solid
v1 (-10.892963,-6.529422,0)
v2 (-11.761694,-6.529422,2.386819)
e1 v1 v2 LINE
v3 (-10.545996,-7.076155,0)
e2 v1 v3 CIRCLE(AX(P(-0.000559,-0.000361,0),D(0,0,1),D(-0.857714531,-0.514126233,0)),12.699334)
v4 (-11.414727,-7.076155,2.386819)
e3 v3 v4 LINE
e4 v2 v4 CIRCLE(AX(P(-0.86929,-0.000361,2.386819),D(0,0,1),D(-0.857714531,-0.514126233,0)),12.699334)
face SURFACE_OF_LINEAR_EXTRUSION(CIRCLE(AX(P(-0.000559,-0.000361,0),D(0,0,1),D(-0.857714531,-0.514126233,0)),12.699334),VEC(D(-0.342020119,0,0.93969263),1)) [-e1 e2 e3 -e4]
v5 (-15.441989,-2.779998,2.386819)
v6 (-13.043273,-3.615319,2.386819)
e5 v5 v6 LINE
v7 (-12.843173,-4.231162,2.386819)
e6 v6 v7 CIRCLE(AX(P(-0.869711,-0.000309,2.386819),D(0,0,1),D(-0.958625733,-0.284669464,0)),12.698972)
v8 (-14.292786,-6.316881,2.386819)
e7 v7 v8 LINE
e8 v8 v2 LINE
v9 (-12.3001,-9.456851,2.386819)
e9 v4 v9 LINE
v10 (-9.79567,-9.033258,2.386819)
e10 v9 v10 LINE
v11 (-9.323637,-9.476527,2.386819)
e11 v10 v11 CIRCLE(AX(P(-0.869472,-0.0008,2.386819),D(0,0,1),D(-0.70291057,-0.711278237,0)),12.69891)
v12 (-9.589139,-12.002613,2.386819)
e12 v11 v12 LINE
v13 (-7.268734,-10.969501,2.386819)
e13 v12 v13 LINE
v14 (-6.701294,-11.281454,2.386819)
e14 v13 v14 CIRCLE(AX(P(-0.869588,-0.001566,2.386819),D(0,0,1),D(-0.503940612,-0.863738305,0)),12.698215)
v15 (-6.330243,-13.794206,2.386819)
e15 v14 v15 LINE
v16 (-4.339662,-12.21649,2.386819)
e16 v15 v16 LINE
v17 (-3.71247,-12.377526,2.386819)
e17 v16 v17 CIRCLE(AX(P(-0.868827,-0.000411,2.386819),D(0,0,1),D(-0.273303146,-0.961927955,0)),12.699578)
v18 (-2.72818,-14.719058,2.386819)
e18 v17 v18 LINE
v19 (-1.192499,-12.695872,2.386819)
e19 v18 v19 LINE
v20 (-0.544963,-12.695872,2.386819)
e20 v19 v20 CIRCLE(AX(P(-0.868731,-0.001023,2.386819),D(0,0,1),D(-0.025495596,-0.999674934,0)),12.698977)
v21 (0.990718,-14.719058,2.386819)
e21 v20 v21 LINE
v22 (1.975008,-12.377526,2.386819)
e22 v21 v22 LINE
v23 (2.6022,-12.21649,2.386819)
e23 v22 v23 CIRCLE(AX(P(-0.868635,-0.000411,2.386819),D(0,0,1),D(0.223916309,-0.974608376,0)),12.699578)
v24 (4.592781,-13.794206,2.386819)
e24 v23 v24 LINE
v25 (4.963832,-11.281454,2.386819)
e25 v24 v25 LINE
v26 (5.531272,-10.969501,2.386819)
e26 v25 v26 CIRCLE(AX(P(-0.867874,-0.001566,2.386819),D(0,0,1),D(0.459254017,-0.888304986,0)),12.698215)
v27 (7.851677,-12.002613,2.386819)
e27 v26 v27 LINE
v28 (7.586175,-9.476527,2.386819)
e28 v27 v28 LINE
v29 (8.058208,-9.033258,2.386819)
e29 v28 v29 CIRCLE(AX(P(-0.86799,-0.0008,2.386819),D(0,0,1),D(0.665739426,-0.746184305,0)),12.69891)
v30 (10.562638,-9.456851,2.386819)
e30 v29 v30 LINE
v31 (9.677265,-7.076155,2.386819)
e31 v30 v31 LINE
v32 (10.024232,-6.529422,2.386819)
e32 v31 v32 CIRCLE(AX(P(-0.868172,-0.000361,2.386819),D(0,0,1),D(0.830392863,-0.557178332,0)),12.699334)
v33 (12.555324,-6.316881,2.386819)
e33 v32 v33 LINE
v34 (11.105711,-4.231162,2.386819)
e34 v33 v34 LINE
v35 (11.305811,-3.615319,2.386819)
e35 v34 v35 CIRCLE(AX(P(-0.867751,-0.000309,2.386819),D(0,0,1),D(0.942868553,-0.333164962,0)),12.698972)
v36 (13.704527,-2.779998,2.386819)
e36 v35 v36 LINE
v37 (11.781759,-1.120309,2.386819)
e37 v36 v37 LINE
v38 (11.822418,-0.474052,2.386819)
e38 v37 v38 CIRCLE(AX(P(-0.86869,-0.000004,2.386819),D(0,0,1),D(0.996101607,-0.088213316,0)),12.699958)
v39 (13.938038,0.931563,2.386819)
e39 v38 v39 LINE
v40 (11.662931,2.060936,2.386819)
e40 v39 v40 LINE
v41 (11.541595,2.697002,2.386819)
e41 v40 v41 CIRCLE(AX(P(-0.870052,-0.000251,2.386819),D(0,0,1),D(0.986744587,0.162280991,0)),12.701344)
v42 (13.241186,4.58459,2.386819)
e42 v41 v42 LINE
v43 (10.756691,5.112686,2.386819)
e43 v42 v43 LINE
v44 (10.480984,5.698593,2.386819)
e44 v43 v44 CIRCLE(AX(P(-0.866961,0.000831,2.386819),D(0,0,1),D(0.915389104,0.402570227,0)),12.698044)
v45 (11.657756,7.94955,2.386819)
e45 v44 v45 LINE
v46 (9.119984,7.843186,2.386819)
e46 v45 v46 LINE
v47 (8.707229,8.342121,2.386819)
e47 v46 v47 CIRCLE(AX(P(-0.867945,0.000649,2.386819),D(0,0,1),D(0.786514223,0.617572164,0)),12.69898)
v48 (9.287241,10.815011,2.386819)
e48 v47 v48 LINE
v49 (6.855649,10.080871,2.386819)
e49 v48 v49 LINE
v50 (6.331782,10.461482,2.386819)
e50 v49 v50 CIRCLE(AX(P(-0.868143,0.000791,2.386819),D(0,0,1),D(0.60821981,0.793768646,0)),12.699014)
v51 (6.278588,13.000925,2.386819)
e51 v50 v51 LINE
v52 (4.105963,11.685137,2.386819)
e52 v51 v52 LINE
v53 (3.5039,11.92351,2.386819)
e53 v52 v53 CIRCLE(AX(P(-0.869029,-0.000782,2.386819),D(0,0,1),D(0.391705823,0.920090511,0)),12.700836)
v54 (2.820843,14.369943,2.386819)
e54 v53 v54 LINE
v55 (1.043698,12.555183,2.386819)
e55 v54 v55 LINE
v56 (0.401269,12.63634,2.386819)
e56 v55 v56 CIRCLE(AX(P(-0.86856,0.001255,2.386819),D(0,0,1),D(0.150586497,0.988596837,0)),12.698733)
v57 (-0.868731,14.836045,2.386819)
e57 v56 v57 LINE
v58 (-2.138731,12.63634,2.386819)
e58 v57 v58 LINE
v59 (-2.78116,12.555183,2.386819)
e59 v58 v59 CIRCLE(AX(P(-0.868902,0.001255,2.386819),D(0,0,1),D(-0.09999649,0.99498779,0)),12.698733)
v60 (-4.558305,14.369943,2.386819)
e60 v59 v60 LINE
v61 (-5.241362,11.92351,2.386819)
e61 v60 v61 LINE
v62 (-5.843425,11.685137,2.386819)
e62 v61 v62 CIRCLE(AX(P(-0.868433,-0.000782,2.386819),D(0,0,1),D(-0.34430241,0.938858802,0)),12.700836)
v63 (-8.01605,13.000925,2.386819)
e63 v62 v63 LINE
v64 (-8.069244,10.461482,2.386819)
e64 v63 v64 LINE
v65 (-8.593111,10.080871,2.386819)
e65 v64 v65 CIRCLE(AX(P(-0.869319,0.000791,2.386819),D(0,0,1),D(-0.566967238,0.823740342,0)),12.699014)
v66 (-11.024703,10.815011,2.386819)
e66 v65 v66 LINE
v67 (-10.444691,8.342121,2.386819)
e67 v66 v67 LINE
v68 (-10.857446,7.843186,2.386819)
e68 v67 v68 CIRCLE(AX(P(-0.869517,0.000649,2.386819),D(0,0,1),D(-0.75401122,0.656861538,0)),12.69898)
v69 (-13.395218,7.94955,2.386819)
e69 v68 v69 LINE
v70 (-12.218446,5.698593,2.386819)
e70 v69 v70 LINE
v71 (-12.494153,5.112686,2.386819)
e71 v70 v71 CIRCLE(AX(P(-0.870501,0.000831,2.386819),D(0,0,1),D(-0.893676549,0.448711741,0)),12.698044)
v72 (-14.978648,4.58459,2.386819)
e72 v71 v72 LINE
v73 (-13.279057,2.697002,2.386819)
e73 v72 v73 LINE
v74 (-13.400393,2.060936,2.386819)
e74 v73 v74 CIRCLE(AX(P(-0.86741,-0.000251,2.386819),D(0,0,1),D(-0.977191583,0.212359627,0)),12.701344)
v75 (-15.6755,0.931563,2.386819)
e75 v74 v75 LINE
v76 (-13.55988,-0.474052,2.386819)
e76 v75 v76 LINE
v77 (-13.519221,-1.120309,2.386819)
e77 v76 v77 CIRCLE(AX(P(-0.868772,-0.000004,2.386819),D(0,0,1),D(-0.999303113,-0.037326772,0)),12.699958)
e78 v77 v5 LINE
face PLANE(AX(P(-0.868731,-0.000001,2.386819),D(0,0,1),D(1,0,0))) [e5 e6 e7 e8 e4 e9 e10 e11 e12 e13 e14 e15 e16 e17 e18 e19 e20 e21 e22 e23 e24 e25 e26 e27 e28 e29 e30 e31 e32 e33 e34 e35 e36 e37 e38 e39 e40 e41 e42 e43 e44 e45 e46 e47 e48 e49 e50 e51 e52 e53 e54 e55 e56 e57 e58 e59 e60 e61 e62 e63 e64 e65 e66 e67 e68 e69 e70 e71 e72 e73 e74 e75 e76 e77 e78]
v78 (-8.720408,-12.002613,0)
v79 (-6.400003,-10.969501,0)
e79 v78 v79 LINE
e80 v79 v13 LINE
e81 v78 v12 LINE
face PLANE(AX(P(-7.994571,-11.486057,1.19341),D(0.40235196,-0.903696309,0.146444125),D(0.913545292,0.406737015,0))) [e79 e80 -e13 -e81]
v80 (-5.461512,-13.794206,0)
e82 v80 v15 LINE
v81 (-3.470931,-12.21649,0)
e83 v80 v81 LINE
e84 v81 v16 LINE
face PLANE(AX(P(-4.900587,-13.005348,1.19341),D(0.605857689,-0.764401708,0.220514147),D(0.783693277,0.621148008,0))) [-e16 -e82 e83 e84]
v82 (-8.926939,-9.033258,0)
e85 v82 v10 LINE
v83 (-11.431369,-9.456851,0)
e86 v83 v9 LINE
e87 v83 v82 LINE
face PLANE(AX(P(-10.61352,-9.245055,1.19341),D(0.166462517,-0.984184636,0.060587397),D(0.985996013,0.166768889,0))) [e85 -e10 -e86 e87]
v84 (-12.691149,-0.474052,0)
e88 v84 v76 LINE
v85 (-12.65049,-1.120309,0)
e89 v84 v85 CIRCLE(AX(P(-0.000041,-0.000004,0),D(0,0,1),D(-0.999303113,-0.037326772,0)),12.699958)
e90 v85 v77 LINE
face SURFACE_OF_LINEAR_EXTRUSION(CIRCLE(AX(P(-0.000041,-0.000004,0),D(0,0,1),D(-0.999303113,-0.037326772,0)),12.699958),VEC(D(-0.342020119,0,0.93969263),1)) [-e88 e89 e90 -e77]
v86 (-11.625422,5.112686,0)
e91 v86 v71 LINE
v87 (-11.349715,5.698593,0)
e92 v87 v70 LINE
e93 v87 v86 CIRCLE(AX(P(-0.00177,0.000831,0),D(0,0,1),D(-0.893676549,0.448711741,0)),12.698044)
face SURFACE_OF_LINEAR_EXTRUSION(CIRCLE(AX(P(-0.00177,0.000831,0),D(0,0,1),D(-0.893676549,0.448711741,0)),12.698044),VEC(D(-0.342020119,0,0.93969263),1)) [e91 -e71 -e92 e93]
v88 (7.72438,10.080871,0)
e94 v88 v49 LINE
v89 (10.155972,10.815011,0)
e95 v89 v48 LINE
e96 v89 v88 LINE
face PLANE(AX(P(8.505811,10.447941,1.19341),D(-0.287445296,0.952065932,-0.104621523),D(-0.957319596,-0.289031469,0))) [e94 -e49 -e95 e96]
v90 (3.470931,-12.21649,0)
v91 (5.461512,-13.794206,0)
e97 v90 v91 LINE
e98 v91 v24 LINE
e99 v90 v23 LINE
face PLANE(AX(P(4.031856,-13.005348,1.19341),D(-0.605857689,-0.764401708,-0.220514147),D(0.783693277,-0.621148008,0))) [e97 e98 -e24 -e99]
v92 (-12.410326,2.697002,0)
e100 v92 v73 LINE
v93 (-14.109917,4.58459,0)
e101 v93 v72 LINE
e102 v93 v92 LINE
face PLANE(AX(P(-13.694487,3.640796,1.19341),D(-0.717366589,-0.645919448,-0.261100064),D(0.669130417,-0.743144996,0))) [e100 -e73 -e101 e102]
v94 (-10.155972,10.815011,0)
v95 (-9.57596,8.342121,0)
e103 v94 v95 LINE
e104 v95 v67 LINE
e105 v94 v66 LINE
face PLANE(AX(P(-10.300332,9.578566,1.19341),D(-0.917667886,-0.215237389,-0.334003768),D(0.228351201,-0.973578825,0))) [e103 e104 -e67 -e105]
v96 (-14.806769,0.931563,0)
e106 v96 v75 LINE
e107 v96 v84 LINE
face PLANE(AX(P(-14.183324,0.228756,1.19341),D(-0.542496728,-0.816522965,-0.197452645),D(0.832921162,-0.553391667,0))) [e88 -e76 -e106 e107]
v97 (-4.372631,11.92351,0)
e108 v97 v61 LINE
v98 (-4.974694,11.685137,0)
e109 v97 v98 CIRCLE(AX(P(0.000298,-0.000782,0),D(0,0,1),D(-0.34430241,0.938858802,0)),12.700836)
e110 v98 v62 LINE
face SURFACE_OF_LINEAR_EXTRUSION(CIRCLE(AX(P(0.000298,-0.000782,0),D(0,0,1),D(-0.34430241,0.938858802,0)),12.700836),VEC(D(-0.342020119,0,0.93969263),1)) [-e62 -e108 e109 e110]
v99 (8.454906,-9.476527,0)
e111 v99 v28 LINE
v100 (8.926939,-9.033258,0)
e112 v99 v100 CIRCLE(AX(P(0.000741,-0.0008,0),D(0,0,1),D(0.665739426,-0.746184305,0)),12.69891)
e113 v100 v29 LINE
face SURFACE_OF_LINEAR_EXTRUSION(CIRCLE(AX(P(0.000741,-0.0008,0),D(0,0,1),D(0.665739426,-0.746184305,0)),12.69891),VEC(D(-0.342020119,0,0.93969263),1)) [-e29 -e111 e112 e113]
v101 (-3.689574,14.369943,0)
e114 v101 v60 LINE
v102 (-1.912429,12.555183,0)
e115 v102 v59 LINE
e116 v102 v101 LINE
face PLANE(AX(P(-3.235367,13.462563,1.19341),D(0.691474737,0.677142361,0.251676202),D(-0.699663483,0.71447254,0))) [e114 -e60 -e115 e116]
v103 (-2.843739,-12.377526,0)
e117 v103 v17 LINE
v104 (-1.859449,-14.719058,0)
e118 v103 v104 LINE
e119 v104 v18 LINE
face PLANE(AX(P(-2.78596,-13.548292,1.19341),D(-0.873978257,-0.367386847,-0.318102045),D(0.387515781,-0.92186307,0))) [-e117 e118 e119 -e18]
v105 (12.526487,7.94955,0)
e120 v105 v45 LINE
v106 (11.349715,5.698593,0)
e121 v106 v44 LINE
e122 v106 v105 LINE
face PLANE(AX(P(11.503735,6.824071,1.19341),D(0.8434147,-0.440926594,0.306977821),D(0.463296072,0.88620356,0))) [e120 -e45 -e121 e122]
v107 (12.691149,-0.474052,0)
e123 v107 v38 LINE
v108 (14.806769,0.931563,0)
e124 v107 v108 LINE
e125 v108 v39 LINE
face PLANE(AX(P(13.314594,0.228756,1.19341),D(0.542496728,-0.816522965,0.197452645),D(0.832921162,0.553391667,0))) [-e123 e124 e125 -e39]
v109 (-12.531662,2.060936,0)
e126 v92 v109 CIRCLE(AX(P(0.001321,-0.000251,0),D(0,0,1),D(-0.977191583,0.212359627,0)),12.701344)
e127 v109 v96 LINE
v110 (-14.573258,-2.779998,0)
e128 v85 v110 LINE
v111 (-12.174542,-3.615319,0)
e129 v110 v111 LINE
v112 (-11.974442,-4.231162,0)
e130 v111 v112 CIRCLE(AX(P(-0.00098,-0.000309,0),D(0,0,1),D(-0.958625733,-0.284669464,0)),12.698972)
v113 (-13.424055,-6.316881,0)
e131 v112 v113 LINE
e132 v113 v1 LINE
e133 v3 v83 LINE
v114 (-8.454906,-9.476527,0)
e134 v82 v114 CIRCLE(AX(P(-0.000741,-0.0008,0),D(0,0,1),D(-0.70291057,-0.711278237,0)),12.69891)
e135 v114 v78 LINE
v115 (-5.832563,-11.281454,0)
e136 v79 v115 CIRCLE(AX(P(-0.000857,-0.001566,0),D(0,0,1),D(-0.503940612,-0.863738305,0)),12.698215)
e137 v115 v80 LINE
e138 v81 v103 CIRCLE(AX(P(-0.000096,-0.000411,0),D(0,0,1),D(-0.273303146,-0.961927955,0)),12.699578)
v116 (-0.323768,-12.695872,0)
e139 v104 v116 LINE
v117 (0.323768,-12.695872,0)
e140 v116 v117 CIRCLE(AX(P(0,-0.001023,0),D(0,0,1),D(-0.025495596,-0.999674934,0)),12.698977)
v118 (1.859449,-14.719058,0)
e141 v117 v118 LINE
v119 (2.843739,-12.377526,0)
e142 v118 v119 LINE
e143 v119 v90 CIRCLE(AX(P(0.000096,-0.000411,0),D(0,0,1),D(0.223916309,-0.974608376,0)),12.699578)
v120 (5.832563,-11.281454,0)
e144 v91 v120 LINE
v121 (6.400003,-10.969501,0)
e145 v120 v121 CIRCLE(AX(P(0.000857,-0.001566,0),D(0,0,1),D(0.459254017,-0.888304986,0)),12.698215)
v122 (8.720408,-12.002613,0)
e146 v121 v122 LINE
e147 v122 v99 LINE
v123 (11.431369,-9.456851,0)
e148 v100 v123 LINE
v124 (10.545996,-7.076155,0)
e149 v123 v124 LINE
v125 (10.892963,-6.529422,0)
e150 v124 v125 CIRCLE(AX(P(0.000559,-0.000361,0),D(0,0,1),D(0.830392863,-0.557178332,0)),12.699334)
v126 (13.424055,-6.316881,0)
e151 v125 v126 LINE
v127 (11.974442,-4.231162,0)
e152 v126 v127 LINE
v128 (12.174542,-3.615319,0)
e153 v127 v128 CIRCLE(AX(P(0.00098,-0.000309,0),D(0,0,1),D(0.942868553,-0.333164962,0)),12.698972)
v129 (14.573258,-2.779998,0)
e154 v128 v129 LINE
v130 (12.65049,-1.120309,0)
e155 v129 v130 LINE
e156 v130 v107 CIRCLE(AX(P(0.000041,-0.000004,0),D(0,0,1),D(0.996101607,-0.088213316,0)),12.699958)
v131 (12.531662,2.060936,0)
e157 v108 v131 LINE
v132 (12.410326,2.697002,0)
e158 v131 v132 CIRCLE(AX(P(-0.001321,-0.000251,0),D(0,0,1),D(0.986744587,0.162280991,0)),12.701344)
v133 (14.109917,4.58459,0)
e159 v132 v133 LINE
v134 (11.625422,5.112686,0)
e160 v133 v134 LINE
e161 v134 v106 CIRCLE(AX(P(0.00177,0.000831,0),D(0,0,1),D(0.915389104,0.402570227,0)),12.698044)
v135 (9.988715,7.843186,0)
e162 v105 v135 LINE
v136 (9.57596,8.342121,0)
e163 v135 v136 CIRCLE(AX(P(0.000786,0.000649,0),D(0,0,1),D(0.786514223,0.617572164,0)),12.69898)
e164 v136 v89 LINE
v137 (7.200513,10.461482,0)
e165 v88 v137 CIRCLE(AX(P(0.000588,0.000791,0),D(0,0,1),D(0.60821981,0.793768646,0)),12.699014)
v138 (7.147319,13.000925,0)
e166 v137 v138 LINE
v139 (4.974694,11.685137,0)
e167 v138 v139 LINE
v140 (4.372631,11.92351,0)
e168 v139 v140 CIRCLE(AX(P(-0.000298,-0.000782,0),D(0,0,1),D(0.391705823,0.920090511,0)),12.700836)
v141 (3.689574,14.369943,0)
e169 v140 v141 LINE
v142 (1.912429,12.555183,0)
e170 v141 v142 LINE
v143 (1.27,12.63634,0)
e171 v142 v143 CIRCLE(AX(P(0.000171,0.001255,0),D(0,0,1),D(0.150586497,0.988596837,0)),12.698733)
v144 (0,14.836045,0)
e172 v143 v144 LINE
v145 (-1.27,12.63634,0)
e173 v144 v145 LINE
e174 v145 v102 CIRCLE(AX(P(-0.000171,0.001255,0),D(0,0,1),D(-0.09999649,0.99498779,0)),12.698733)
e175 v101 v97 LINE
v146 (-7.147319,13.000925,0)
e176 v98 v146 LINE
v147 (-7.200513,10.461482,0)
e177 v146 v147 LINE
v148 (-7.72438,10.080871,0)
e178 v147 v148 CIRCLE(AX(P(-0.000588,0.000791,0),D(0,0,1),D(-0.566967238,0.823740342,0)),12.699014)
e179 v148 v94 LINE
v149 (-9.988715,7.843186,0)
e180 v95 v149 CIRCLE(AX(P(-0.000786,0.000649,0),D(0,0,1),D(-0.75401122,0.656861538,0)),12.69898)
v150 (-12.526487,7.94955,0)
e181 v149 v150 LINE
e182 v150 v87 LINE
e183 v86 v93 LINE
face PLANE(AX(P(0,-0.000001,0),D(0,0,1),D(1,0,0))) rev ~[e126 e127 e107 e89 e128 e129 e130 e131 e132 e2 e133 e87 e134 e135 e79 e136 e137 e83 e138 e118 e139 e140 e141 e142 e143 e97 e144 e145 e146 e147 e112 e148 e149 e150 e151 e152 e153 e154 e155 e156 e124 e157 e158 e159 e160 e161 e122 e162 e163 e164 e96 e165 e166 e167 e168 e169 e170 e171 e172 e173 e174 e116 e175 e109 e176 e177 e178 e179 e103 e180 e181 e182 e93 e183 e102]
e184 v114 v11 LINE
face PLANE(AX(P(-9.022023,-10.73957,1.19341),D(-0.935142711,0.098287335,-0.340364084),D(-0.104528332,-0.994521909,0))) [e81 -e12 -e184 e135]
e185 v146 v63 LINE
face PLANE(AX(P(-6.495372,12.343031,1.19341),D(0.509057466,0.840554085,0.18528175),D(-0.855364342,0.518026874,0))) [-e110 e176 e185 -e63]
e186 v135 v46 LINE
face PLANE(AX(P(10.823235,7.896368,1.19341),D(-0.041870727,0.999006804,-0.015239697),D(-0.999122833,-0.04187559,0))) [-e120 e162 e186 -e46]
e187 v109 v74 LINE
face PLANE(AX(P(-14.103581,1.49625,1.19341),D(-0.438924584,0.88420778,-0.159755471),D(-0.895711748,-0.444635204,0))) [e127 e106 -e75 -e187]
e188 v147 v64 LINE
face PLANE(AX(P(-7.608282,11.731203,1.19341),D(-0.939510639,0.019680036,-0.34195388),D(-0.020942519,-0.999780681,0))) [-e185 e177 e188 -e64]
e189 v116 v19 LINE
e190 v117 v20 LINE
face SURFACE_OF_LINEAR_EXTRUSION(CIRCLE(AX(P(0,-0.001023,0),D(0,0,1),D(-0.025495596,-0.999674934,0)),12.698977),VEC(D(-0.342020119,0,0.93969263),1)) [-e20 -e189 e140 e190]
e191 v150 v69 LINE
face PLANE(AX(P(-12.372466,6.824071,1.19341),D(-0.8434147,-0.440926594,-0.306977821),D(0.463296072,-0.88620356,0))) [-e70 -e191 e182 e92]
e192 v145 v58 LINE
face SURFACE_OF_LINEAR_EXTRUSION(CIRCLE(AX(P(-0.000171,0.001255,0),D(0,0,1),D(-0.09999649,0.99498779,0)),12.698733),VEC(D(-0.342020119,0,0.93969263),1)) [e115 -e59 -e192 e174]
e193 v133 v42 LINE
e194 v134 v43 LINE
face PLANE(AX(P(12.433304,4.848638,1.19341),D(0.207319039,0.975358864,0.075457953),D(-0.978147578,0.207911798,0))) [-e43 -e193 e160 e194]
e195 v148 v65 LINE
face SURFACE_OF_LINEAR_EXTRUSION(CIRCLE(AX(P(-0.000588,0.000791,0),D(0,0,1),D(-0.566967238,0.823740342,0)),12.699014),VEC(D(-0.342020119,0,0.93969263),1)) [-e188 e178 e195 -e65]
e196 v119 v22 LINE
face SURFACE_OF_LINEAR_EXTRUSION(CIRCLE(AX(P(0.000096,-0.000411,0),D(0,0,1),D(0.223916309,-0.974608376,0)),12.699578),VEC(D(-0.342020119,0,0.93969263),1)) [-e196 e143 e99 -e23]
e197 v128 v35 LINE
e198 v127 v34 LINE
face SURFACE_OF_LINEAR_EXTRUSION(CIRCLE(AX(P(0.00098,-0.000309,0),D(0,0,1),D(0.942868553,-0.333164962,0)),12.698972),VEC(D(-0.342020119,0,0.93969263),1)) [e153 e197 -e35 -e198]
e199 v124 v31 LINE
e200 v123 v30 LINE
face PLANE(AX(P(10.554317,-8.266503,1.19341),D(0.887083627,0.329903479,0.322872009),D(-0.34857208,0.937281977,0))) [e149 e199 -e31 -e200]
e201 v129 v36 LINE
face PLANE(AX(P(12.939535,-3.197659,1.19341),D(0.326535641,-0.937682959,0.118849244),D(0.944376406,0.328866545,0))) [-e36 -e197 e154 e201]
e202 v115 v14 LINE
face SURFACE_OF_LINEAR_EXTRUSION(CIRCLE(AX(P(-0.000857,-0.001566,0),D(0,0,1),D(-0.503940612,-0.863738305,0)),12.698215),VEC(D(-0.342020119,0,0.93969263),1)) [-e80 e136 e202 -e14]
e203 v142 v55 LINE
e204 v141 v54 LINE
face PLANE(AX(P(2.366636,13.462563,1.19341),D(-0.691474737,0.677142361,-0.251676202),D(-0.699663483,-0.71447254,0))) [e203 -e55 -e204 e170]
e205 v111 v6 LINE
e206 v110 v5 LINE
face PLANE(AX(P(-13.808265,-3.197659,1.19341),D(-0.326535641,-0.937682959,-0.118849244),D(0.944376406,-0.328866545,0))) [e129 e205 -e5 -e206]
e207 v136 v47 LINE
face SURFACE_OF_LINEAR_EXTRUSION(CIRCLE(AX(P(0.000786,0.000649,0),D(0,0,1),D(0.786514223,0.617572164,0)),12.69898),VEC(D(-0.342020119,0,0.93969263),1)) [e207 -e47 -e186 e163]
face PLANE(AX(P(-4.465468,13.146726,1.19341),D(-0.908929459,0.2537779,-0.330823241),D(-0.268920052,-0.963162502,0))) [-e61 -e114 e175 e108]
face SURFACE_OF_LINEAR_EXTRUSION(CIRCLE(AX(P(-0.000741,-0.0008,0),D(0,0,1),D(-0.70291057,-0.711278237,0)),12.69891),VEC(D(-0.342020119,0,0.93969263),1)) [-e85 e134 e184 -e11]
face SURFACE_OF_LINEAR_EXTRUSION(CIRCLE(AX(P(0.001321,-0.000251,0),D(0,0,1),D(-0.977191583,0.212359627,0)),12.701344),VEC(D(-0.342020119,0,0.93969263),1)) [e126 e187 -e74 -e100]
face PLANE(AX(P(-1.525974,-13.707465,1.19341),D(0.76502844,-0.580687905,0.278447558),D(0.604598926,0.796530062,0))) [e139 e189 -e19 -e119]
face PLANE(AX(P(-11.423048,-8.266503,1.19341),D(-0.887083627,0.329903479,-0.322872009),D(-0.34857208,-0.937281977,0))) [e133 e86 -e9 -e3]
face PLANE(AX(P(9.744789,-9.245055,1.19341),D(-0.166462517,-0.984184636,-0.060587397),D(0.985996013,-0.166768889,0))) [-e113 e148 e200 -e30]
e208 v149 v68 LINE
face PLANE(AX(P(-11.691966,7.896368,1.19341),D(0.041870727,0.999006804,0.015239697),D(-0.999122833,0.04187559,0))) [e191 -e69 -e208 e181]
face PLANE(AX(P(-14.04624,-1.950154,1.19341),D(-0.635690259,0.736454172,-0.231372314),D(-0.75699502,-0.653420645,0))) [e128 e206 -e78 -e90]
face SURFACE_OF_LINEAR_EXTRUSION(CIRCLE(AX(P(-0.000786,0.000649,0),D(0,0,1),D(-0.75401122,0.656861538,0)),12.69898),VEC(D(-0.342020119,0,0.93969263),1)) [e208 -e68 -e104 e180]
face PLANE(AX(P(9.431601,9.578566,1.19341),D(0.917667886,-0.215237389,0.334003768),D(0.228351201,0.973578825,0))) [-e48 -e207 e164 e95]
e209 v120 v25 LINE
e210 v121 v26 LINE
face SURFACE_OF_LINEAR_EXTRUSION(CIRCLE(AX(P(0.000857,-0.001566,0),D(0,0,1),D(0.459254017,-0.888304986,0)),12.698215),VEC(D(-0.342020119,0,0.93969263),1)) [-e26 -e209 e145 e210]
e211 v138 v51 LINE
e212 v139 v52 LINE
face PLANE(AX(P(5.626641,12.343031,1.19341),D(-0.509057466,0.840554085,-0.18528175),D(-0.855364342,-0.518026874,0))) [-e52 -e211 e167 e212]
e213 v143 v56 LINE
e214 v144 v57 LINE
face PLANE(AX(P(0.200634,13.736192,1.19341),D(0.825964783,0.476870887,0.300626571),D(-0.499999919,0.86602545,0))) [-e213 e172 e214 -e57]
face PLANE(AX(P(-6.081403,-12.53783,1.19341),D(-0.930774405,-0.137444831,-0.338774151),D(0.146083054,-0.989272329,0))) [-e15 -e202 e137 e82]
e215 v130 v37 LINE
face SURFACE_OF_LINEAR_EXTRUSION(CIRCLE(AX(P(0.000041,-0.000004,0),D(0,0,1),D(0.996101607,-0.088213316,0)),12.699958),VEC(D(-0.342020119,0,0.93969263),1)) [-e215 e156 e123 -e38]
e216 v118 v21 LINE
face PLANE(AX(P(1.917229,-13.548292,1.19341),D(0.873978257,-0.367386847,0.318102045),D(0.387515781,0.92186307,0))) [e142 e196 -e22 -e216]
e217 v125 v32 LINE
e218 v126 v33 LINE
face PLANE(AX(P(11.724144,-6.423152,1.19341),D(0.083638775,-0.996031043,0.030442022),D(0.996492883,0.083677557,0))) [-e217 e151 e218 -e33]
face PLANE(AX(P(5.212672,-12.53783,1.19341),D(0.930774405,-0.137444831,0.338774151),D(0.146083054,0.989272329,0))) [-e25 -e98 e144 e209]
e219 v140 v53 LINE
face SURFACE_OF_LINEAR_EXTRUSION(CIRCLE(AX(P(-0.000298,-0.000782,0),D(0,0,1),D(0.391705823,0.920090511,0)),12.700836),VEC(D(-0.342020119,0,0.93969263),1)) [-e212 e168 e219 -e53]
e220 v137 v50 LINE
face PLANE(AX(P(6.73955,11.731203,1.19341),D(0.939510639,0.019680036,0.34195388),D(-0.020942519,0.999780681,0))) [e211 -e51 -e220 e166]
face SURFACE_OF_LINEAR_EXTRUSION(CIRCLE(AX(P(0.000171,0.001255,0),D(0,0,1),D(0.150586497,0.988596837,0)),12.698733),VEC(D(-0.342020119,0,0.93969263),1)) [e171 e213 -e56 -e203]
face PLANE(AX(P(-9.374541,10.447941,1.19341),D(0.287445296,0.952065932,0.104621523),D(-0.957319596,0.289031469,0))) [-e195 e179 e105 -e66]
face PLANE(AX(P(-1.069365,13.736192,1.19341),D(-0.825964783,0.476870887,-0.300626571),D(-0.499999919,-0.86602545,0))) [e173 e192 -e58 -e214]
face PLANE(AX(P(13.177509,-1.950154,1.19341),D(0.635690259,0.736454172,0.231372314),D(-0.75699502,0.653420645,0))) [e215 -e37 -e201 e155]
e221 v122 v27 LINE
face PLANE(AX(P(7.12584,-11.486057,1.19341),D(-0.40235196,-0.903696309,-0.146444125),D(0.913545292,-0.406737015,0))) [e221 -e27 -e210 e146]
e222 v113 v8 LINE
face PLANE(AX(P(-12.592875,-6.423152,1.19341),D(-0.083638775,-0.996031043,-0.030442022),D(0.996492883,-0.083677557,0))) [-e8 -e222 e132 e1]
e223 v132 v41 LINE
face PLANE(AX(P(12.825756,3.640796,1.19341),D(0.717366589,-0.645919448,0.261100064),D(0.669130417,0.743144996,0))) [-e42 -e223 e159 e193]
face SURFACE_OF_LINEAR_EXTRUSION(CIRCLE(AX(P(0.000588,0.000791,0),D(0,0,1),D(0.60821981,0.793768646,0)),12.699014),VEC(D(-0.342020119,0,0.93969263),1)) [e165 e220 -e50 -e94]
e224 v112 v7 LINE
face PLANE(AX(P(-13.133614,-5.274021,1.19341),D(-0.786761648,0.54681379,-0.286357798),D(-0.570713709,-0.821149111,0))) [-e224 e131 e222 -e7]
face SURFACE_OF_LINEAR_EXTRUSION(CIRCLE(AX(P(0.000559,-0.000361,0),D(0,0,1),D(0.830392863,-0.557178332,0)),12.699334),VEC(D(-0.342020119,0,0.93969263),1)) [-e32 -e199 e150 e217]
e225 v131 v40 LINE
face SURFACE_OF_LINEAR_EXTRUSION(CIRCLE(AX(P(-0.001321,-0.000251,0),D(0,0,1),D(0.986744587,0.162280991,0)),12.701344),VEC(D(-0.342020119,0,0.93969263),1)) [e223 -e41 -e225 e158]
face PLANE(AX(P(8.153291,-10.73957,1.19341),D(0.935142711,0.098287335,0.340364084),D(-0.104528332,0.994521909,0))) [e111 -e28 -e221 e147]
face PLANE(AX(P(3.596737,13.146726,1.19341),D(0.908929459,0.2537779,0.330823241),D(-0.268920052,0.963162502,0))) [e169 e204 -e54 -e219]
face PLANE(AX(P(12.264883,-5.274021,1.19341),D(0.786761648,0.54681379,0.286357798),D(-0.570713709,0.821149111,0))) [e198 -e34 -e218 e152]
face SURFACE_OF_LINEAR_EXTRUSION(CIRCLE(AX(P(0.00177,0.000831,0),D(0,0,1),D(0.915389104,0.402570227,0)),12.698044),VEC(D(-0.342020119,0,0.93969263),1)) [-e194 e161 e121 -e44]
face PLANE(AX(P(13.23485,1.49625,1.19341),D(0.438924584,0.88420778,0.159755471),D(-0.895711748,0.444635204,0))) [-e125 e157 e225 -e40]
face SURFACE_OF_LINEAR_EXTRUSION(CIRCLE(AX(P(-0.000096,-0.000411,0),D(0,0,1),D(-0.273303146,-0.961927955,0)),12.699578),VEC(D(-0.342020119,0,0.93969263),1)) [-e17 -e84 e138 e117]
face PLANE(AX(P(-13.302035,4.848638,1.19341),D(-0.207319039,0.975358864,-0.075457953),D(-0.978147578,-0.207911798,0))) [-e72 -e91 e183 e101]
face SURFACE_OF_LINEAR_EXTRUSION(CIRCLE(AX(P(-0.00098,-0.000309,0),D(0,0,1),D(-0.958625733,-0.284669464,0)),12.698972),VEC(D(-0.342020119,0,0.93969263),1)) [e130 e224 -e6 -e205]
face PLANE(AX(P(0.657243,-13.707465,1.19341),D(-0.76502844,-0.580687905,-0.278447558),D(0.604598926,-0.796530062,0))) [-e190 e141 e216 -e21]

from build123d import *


with BuildPart() as f2:
    # F2: sweep along a path in F1
    with BuildLine(Plane.XZ) as f2_path:
        Line((0, 0), (-0.868731, 2.386819))
    # F0 (on Top) → F2 (sweep)
    with BuildSketch(Plane.XY):
        with BuildLine():
            Line((0, 14.836045), (-1.27, 12.63634))
            ThreePointArc((-1.27, 12.63634), (-1.591732, 12.599857), (-1.912429, 12.555183))
            Line((-1.912429, 12.555183), (-3.689574, 14.369943))
            Line((-3.689574, 14.369943), (-4.372631, 11.92351))
            ThreePointArc((-4.372631, 11.92351), (-4.675182, 11.808161), (-4.974694, 11.685137))
            Line((-4.974694, 11.685137), (-7.147319, 13.000925))
            Line((-7.147319, 13.000925), (-7.200513, 10.461482))
            ThreePointArc((-7.200513, 10.461482), (-7.464873, 10.274516), (-7.72438, 10.080871))
            Line((-7.72438, 10.080871), (-10.155972, 10.815011))
            Line((-10.155972, 10.815011), (-9.57596, 8.342121))
            ThreePointArc((-9.57596, 8.342121), (-9.785518, 8.095285), (-9.988715, 7.843186))
            Line((-9.988715, 7.843186), (-12.526487, 7.94955))
            Line((-12.526487, 7.94955), (-11.349715, 5.698593))
            ThreePointArc((-11.349715, 5.698593), (-11.491304, 5.407397), (-11.625422, 5.112686))
            Line((-11.625422, 5.112686), (-14.109917, 4.58459))
            Line((-14.109917, 4.58459), (-12.410326, 2.697002))
            ThreePointArc((-12.410326, 2.697002), (-12.475048, 2.379743), (-12.531662, 2.060936))
            Line((-12.531662, 2.060936), (-14.806769, 0.931563))
            Line((-14.806769, 0.931563), (-12.691149, -0.474052))
            ThreePointArc((-12.691149, -0.474052), (-12.674939, -0.79744), (-12.65049, -1.120309))
            Line((-12.65049, -1.120309), (-14.573258, -2.779998))
            Line((-14.573258, -2.779998), (-12.174542, -3.615319))
            ThreePointArc((-12.174542, -3.615319), (-12.078418, -3.924516), (-11.974442, -4.231162))
            Line((-11.974442, -4.231162), (-13.424055, -6.316881))
            Line((-13.424055, -6.316881), (-10.892963, -6.529422))
            ThreePointArc((-10.892963, -6.529422), (-10.722965, -6.805), (-10.545996, -7.076155))
            Line((-10.545996, -7.076155), (-11.431369, -9.456851))
            Line((-11.431369, -9.456851), (-8.926939, -9.033258))
            ThreePointArc((-8.926939, -9.033258), (-8.693748, -9.257902), (-8.454906, -9.476527))
            Line((-8.454906, -9.476527), (-8.720408, -12.002613))
            Line((-8.720408, -12.002613), (-6.400003, -10.969501))
            ThreePointArc((-6.400003, -10.969501), (-6.118272, -11.129095), (-5.832563, -11.281454))
            Line((-5.832563, -11.281454), (-5.461512, -13.794206))
            Line((-5.461512, -13.794206), (-3.470931, -12.21649))
            ThreePointArc((-3.470931, -12.21649), (-3.158362, -12.301006), (-2.843739, -12.377526))
            Line((-2.843739, -12.377526), (-1.859449, -14.719058))
            Line((-1.859449, -14.719058), (-0.323768, -12.695872))
            ThreePointArc((-0.323768, -12.695872), (0, -12.7), (0.323768, -12.695872))
            Line((0.323768, -12.695872), (1.859449, -14.719058))
            Line((1.859449, -14.719058), (2.843739, -12.377526))
            ThreePointArc((2.843739, -12.377526), (3.158362, -12.301006), (3.470931, -12.21649))
            Line((3.470931, -12.21649), (5.461512, -13.794206))
            Line((5.461512, -13.794206), (5.832563, -11.281454))
            ThreePointArc((5.832563, -11.281454), (6.118272, -11.129095), (6.400003, -10.969501))
            Line((6.400003, -10.969501), (8.720408, -12.002613))
            Line((8.720408, -12.002613), (8.454906, -9.476527))
            ThreePointArc((8.454906, -9.476527), (8.693748, -9.257902), (8.926939, -9.033258))
            Line((8.926939, -9.033258), (11.431369, -9.456851))
            Line((11.431369, -9.456851), (10.545996, -7.076155))
            ThreePointArc((10.545996, -7.076155), (10.722965, -6.805), (10.892963, -6.529422))
            Line((10.892963, -6.529422), (13.424055, -6.316881))
            Line((13.424055, -6.316881), (11.974442, -4.231162))
            ThreePointArc((11.974442, -4.231162), (12.078418, -3.924516), (12.174542, -3.615319))
            Line((12.174542, -3.615319), (14.573258, -2.779998))
            Line((14.573258, -2.779998), (12.65049, -1.120309))
            ThreePointArc((12.65049, -1.120309), (12.674939, -0.79744), (12.691149, -0.474052))
            Line((12.691149, -0.474052), (14.806769, 0.931563))
            Line((14.806769, 0.931563), (12.531662, 2.060936))
            ThreePointArc((12.531662, 2.060936), (12.475048, 2.379743), (12.410326, 2.697002))
            Line((12.410326, 2.697002), (14.109917, 4.58459))
            Line((14.109917, 4.58459), (11.625422, 5.112686))
            ThreePointArc((11.625422, 5.112686), (11.491304, 5.407397), (11.349715, 5.698593))
            Line((11.349715, 5.698593), (12.526487, 7.94955))
            Line((12.526487, 7.94955), (9.988715, 7.843186))
            ThreePointArc((9.988715, 7.843186), (9.785518, 8.095285), (9.57596, 8.342121))
            Line((9.57596, 8.342121), (10.155972, 10.815011))
            Line((10.155972, 10.815011), (7.72438, 10.080871))
            ThreePointArc((7.72438, 10.080871), (7.464873, 10.274516), (7.200513, 10.461482))
            Line((7.200513, 10.461482), (7.147319, 13.000925))
            Line((7.147319, 13.000925), (4.974694, 11.685137))
            ThreePointArc((4.974694, 11.685137), (4.675182, 11.808161), (4.372631, 11.92351))
            Line((4.372631, 11.92351), (3.689574, 14.369943))
            Line((3.689574, 14.369943), (1.912429, 12.555183))
            ThreePointArc((1.912429, 12.555183), (1.591732, 12.599857), (1.27, 12.63634))
            Line((1.27, 12.63634), (0, 14.836045))
        make_face()
    sweep(path=f2_path.line)


solid = f2.part
